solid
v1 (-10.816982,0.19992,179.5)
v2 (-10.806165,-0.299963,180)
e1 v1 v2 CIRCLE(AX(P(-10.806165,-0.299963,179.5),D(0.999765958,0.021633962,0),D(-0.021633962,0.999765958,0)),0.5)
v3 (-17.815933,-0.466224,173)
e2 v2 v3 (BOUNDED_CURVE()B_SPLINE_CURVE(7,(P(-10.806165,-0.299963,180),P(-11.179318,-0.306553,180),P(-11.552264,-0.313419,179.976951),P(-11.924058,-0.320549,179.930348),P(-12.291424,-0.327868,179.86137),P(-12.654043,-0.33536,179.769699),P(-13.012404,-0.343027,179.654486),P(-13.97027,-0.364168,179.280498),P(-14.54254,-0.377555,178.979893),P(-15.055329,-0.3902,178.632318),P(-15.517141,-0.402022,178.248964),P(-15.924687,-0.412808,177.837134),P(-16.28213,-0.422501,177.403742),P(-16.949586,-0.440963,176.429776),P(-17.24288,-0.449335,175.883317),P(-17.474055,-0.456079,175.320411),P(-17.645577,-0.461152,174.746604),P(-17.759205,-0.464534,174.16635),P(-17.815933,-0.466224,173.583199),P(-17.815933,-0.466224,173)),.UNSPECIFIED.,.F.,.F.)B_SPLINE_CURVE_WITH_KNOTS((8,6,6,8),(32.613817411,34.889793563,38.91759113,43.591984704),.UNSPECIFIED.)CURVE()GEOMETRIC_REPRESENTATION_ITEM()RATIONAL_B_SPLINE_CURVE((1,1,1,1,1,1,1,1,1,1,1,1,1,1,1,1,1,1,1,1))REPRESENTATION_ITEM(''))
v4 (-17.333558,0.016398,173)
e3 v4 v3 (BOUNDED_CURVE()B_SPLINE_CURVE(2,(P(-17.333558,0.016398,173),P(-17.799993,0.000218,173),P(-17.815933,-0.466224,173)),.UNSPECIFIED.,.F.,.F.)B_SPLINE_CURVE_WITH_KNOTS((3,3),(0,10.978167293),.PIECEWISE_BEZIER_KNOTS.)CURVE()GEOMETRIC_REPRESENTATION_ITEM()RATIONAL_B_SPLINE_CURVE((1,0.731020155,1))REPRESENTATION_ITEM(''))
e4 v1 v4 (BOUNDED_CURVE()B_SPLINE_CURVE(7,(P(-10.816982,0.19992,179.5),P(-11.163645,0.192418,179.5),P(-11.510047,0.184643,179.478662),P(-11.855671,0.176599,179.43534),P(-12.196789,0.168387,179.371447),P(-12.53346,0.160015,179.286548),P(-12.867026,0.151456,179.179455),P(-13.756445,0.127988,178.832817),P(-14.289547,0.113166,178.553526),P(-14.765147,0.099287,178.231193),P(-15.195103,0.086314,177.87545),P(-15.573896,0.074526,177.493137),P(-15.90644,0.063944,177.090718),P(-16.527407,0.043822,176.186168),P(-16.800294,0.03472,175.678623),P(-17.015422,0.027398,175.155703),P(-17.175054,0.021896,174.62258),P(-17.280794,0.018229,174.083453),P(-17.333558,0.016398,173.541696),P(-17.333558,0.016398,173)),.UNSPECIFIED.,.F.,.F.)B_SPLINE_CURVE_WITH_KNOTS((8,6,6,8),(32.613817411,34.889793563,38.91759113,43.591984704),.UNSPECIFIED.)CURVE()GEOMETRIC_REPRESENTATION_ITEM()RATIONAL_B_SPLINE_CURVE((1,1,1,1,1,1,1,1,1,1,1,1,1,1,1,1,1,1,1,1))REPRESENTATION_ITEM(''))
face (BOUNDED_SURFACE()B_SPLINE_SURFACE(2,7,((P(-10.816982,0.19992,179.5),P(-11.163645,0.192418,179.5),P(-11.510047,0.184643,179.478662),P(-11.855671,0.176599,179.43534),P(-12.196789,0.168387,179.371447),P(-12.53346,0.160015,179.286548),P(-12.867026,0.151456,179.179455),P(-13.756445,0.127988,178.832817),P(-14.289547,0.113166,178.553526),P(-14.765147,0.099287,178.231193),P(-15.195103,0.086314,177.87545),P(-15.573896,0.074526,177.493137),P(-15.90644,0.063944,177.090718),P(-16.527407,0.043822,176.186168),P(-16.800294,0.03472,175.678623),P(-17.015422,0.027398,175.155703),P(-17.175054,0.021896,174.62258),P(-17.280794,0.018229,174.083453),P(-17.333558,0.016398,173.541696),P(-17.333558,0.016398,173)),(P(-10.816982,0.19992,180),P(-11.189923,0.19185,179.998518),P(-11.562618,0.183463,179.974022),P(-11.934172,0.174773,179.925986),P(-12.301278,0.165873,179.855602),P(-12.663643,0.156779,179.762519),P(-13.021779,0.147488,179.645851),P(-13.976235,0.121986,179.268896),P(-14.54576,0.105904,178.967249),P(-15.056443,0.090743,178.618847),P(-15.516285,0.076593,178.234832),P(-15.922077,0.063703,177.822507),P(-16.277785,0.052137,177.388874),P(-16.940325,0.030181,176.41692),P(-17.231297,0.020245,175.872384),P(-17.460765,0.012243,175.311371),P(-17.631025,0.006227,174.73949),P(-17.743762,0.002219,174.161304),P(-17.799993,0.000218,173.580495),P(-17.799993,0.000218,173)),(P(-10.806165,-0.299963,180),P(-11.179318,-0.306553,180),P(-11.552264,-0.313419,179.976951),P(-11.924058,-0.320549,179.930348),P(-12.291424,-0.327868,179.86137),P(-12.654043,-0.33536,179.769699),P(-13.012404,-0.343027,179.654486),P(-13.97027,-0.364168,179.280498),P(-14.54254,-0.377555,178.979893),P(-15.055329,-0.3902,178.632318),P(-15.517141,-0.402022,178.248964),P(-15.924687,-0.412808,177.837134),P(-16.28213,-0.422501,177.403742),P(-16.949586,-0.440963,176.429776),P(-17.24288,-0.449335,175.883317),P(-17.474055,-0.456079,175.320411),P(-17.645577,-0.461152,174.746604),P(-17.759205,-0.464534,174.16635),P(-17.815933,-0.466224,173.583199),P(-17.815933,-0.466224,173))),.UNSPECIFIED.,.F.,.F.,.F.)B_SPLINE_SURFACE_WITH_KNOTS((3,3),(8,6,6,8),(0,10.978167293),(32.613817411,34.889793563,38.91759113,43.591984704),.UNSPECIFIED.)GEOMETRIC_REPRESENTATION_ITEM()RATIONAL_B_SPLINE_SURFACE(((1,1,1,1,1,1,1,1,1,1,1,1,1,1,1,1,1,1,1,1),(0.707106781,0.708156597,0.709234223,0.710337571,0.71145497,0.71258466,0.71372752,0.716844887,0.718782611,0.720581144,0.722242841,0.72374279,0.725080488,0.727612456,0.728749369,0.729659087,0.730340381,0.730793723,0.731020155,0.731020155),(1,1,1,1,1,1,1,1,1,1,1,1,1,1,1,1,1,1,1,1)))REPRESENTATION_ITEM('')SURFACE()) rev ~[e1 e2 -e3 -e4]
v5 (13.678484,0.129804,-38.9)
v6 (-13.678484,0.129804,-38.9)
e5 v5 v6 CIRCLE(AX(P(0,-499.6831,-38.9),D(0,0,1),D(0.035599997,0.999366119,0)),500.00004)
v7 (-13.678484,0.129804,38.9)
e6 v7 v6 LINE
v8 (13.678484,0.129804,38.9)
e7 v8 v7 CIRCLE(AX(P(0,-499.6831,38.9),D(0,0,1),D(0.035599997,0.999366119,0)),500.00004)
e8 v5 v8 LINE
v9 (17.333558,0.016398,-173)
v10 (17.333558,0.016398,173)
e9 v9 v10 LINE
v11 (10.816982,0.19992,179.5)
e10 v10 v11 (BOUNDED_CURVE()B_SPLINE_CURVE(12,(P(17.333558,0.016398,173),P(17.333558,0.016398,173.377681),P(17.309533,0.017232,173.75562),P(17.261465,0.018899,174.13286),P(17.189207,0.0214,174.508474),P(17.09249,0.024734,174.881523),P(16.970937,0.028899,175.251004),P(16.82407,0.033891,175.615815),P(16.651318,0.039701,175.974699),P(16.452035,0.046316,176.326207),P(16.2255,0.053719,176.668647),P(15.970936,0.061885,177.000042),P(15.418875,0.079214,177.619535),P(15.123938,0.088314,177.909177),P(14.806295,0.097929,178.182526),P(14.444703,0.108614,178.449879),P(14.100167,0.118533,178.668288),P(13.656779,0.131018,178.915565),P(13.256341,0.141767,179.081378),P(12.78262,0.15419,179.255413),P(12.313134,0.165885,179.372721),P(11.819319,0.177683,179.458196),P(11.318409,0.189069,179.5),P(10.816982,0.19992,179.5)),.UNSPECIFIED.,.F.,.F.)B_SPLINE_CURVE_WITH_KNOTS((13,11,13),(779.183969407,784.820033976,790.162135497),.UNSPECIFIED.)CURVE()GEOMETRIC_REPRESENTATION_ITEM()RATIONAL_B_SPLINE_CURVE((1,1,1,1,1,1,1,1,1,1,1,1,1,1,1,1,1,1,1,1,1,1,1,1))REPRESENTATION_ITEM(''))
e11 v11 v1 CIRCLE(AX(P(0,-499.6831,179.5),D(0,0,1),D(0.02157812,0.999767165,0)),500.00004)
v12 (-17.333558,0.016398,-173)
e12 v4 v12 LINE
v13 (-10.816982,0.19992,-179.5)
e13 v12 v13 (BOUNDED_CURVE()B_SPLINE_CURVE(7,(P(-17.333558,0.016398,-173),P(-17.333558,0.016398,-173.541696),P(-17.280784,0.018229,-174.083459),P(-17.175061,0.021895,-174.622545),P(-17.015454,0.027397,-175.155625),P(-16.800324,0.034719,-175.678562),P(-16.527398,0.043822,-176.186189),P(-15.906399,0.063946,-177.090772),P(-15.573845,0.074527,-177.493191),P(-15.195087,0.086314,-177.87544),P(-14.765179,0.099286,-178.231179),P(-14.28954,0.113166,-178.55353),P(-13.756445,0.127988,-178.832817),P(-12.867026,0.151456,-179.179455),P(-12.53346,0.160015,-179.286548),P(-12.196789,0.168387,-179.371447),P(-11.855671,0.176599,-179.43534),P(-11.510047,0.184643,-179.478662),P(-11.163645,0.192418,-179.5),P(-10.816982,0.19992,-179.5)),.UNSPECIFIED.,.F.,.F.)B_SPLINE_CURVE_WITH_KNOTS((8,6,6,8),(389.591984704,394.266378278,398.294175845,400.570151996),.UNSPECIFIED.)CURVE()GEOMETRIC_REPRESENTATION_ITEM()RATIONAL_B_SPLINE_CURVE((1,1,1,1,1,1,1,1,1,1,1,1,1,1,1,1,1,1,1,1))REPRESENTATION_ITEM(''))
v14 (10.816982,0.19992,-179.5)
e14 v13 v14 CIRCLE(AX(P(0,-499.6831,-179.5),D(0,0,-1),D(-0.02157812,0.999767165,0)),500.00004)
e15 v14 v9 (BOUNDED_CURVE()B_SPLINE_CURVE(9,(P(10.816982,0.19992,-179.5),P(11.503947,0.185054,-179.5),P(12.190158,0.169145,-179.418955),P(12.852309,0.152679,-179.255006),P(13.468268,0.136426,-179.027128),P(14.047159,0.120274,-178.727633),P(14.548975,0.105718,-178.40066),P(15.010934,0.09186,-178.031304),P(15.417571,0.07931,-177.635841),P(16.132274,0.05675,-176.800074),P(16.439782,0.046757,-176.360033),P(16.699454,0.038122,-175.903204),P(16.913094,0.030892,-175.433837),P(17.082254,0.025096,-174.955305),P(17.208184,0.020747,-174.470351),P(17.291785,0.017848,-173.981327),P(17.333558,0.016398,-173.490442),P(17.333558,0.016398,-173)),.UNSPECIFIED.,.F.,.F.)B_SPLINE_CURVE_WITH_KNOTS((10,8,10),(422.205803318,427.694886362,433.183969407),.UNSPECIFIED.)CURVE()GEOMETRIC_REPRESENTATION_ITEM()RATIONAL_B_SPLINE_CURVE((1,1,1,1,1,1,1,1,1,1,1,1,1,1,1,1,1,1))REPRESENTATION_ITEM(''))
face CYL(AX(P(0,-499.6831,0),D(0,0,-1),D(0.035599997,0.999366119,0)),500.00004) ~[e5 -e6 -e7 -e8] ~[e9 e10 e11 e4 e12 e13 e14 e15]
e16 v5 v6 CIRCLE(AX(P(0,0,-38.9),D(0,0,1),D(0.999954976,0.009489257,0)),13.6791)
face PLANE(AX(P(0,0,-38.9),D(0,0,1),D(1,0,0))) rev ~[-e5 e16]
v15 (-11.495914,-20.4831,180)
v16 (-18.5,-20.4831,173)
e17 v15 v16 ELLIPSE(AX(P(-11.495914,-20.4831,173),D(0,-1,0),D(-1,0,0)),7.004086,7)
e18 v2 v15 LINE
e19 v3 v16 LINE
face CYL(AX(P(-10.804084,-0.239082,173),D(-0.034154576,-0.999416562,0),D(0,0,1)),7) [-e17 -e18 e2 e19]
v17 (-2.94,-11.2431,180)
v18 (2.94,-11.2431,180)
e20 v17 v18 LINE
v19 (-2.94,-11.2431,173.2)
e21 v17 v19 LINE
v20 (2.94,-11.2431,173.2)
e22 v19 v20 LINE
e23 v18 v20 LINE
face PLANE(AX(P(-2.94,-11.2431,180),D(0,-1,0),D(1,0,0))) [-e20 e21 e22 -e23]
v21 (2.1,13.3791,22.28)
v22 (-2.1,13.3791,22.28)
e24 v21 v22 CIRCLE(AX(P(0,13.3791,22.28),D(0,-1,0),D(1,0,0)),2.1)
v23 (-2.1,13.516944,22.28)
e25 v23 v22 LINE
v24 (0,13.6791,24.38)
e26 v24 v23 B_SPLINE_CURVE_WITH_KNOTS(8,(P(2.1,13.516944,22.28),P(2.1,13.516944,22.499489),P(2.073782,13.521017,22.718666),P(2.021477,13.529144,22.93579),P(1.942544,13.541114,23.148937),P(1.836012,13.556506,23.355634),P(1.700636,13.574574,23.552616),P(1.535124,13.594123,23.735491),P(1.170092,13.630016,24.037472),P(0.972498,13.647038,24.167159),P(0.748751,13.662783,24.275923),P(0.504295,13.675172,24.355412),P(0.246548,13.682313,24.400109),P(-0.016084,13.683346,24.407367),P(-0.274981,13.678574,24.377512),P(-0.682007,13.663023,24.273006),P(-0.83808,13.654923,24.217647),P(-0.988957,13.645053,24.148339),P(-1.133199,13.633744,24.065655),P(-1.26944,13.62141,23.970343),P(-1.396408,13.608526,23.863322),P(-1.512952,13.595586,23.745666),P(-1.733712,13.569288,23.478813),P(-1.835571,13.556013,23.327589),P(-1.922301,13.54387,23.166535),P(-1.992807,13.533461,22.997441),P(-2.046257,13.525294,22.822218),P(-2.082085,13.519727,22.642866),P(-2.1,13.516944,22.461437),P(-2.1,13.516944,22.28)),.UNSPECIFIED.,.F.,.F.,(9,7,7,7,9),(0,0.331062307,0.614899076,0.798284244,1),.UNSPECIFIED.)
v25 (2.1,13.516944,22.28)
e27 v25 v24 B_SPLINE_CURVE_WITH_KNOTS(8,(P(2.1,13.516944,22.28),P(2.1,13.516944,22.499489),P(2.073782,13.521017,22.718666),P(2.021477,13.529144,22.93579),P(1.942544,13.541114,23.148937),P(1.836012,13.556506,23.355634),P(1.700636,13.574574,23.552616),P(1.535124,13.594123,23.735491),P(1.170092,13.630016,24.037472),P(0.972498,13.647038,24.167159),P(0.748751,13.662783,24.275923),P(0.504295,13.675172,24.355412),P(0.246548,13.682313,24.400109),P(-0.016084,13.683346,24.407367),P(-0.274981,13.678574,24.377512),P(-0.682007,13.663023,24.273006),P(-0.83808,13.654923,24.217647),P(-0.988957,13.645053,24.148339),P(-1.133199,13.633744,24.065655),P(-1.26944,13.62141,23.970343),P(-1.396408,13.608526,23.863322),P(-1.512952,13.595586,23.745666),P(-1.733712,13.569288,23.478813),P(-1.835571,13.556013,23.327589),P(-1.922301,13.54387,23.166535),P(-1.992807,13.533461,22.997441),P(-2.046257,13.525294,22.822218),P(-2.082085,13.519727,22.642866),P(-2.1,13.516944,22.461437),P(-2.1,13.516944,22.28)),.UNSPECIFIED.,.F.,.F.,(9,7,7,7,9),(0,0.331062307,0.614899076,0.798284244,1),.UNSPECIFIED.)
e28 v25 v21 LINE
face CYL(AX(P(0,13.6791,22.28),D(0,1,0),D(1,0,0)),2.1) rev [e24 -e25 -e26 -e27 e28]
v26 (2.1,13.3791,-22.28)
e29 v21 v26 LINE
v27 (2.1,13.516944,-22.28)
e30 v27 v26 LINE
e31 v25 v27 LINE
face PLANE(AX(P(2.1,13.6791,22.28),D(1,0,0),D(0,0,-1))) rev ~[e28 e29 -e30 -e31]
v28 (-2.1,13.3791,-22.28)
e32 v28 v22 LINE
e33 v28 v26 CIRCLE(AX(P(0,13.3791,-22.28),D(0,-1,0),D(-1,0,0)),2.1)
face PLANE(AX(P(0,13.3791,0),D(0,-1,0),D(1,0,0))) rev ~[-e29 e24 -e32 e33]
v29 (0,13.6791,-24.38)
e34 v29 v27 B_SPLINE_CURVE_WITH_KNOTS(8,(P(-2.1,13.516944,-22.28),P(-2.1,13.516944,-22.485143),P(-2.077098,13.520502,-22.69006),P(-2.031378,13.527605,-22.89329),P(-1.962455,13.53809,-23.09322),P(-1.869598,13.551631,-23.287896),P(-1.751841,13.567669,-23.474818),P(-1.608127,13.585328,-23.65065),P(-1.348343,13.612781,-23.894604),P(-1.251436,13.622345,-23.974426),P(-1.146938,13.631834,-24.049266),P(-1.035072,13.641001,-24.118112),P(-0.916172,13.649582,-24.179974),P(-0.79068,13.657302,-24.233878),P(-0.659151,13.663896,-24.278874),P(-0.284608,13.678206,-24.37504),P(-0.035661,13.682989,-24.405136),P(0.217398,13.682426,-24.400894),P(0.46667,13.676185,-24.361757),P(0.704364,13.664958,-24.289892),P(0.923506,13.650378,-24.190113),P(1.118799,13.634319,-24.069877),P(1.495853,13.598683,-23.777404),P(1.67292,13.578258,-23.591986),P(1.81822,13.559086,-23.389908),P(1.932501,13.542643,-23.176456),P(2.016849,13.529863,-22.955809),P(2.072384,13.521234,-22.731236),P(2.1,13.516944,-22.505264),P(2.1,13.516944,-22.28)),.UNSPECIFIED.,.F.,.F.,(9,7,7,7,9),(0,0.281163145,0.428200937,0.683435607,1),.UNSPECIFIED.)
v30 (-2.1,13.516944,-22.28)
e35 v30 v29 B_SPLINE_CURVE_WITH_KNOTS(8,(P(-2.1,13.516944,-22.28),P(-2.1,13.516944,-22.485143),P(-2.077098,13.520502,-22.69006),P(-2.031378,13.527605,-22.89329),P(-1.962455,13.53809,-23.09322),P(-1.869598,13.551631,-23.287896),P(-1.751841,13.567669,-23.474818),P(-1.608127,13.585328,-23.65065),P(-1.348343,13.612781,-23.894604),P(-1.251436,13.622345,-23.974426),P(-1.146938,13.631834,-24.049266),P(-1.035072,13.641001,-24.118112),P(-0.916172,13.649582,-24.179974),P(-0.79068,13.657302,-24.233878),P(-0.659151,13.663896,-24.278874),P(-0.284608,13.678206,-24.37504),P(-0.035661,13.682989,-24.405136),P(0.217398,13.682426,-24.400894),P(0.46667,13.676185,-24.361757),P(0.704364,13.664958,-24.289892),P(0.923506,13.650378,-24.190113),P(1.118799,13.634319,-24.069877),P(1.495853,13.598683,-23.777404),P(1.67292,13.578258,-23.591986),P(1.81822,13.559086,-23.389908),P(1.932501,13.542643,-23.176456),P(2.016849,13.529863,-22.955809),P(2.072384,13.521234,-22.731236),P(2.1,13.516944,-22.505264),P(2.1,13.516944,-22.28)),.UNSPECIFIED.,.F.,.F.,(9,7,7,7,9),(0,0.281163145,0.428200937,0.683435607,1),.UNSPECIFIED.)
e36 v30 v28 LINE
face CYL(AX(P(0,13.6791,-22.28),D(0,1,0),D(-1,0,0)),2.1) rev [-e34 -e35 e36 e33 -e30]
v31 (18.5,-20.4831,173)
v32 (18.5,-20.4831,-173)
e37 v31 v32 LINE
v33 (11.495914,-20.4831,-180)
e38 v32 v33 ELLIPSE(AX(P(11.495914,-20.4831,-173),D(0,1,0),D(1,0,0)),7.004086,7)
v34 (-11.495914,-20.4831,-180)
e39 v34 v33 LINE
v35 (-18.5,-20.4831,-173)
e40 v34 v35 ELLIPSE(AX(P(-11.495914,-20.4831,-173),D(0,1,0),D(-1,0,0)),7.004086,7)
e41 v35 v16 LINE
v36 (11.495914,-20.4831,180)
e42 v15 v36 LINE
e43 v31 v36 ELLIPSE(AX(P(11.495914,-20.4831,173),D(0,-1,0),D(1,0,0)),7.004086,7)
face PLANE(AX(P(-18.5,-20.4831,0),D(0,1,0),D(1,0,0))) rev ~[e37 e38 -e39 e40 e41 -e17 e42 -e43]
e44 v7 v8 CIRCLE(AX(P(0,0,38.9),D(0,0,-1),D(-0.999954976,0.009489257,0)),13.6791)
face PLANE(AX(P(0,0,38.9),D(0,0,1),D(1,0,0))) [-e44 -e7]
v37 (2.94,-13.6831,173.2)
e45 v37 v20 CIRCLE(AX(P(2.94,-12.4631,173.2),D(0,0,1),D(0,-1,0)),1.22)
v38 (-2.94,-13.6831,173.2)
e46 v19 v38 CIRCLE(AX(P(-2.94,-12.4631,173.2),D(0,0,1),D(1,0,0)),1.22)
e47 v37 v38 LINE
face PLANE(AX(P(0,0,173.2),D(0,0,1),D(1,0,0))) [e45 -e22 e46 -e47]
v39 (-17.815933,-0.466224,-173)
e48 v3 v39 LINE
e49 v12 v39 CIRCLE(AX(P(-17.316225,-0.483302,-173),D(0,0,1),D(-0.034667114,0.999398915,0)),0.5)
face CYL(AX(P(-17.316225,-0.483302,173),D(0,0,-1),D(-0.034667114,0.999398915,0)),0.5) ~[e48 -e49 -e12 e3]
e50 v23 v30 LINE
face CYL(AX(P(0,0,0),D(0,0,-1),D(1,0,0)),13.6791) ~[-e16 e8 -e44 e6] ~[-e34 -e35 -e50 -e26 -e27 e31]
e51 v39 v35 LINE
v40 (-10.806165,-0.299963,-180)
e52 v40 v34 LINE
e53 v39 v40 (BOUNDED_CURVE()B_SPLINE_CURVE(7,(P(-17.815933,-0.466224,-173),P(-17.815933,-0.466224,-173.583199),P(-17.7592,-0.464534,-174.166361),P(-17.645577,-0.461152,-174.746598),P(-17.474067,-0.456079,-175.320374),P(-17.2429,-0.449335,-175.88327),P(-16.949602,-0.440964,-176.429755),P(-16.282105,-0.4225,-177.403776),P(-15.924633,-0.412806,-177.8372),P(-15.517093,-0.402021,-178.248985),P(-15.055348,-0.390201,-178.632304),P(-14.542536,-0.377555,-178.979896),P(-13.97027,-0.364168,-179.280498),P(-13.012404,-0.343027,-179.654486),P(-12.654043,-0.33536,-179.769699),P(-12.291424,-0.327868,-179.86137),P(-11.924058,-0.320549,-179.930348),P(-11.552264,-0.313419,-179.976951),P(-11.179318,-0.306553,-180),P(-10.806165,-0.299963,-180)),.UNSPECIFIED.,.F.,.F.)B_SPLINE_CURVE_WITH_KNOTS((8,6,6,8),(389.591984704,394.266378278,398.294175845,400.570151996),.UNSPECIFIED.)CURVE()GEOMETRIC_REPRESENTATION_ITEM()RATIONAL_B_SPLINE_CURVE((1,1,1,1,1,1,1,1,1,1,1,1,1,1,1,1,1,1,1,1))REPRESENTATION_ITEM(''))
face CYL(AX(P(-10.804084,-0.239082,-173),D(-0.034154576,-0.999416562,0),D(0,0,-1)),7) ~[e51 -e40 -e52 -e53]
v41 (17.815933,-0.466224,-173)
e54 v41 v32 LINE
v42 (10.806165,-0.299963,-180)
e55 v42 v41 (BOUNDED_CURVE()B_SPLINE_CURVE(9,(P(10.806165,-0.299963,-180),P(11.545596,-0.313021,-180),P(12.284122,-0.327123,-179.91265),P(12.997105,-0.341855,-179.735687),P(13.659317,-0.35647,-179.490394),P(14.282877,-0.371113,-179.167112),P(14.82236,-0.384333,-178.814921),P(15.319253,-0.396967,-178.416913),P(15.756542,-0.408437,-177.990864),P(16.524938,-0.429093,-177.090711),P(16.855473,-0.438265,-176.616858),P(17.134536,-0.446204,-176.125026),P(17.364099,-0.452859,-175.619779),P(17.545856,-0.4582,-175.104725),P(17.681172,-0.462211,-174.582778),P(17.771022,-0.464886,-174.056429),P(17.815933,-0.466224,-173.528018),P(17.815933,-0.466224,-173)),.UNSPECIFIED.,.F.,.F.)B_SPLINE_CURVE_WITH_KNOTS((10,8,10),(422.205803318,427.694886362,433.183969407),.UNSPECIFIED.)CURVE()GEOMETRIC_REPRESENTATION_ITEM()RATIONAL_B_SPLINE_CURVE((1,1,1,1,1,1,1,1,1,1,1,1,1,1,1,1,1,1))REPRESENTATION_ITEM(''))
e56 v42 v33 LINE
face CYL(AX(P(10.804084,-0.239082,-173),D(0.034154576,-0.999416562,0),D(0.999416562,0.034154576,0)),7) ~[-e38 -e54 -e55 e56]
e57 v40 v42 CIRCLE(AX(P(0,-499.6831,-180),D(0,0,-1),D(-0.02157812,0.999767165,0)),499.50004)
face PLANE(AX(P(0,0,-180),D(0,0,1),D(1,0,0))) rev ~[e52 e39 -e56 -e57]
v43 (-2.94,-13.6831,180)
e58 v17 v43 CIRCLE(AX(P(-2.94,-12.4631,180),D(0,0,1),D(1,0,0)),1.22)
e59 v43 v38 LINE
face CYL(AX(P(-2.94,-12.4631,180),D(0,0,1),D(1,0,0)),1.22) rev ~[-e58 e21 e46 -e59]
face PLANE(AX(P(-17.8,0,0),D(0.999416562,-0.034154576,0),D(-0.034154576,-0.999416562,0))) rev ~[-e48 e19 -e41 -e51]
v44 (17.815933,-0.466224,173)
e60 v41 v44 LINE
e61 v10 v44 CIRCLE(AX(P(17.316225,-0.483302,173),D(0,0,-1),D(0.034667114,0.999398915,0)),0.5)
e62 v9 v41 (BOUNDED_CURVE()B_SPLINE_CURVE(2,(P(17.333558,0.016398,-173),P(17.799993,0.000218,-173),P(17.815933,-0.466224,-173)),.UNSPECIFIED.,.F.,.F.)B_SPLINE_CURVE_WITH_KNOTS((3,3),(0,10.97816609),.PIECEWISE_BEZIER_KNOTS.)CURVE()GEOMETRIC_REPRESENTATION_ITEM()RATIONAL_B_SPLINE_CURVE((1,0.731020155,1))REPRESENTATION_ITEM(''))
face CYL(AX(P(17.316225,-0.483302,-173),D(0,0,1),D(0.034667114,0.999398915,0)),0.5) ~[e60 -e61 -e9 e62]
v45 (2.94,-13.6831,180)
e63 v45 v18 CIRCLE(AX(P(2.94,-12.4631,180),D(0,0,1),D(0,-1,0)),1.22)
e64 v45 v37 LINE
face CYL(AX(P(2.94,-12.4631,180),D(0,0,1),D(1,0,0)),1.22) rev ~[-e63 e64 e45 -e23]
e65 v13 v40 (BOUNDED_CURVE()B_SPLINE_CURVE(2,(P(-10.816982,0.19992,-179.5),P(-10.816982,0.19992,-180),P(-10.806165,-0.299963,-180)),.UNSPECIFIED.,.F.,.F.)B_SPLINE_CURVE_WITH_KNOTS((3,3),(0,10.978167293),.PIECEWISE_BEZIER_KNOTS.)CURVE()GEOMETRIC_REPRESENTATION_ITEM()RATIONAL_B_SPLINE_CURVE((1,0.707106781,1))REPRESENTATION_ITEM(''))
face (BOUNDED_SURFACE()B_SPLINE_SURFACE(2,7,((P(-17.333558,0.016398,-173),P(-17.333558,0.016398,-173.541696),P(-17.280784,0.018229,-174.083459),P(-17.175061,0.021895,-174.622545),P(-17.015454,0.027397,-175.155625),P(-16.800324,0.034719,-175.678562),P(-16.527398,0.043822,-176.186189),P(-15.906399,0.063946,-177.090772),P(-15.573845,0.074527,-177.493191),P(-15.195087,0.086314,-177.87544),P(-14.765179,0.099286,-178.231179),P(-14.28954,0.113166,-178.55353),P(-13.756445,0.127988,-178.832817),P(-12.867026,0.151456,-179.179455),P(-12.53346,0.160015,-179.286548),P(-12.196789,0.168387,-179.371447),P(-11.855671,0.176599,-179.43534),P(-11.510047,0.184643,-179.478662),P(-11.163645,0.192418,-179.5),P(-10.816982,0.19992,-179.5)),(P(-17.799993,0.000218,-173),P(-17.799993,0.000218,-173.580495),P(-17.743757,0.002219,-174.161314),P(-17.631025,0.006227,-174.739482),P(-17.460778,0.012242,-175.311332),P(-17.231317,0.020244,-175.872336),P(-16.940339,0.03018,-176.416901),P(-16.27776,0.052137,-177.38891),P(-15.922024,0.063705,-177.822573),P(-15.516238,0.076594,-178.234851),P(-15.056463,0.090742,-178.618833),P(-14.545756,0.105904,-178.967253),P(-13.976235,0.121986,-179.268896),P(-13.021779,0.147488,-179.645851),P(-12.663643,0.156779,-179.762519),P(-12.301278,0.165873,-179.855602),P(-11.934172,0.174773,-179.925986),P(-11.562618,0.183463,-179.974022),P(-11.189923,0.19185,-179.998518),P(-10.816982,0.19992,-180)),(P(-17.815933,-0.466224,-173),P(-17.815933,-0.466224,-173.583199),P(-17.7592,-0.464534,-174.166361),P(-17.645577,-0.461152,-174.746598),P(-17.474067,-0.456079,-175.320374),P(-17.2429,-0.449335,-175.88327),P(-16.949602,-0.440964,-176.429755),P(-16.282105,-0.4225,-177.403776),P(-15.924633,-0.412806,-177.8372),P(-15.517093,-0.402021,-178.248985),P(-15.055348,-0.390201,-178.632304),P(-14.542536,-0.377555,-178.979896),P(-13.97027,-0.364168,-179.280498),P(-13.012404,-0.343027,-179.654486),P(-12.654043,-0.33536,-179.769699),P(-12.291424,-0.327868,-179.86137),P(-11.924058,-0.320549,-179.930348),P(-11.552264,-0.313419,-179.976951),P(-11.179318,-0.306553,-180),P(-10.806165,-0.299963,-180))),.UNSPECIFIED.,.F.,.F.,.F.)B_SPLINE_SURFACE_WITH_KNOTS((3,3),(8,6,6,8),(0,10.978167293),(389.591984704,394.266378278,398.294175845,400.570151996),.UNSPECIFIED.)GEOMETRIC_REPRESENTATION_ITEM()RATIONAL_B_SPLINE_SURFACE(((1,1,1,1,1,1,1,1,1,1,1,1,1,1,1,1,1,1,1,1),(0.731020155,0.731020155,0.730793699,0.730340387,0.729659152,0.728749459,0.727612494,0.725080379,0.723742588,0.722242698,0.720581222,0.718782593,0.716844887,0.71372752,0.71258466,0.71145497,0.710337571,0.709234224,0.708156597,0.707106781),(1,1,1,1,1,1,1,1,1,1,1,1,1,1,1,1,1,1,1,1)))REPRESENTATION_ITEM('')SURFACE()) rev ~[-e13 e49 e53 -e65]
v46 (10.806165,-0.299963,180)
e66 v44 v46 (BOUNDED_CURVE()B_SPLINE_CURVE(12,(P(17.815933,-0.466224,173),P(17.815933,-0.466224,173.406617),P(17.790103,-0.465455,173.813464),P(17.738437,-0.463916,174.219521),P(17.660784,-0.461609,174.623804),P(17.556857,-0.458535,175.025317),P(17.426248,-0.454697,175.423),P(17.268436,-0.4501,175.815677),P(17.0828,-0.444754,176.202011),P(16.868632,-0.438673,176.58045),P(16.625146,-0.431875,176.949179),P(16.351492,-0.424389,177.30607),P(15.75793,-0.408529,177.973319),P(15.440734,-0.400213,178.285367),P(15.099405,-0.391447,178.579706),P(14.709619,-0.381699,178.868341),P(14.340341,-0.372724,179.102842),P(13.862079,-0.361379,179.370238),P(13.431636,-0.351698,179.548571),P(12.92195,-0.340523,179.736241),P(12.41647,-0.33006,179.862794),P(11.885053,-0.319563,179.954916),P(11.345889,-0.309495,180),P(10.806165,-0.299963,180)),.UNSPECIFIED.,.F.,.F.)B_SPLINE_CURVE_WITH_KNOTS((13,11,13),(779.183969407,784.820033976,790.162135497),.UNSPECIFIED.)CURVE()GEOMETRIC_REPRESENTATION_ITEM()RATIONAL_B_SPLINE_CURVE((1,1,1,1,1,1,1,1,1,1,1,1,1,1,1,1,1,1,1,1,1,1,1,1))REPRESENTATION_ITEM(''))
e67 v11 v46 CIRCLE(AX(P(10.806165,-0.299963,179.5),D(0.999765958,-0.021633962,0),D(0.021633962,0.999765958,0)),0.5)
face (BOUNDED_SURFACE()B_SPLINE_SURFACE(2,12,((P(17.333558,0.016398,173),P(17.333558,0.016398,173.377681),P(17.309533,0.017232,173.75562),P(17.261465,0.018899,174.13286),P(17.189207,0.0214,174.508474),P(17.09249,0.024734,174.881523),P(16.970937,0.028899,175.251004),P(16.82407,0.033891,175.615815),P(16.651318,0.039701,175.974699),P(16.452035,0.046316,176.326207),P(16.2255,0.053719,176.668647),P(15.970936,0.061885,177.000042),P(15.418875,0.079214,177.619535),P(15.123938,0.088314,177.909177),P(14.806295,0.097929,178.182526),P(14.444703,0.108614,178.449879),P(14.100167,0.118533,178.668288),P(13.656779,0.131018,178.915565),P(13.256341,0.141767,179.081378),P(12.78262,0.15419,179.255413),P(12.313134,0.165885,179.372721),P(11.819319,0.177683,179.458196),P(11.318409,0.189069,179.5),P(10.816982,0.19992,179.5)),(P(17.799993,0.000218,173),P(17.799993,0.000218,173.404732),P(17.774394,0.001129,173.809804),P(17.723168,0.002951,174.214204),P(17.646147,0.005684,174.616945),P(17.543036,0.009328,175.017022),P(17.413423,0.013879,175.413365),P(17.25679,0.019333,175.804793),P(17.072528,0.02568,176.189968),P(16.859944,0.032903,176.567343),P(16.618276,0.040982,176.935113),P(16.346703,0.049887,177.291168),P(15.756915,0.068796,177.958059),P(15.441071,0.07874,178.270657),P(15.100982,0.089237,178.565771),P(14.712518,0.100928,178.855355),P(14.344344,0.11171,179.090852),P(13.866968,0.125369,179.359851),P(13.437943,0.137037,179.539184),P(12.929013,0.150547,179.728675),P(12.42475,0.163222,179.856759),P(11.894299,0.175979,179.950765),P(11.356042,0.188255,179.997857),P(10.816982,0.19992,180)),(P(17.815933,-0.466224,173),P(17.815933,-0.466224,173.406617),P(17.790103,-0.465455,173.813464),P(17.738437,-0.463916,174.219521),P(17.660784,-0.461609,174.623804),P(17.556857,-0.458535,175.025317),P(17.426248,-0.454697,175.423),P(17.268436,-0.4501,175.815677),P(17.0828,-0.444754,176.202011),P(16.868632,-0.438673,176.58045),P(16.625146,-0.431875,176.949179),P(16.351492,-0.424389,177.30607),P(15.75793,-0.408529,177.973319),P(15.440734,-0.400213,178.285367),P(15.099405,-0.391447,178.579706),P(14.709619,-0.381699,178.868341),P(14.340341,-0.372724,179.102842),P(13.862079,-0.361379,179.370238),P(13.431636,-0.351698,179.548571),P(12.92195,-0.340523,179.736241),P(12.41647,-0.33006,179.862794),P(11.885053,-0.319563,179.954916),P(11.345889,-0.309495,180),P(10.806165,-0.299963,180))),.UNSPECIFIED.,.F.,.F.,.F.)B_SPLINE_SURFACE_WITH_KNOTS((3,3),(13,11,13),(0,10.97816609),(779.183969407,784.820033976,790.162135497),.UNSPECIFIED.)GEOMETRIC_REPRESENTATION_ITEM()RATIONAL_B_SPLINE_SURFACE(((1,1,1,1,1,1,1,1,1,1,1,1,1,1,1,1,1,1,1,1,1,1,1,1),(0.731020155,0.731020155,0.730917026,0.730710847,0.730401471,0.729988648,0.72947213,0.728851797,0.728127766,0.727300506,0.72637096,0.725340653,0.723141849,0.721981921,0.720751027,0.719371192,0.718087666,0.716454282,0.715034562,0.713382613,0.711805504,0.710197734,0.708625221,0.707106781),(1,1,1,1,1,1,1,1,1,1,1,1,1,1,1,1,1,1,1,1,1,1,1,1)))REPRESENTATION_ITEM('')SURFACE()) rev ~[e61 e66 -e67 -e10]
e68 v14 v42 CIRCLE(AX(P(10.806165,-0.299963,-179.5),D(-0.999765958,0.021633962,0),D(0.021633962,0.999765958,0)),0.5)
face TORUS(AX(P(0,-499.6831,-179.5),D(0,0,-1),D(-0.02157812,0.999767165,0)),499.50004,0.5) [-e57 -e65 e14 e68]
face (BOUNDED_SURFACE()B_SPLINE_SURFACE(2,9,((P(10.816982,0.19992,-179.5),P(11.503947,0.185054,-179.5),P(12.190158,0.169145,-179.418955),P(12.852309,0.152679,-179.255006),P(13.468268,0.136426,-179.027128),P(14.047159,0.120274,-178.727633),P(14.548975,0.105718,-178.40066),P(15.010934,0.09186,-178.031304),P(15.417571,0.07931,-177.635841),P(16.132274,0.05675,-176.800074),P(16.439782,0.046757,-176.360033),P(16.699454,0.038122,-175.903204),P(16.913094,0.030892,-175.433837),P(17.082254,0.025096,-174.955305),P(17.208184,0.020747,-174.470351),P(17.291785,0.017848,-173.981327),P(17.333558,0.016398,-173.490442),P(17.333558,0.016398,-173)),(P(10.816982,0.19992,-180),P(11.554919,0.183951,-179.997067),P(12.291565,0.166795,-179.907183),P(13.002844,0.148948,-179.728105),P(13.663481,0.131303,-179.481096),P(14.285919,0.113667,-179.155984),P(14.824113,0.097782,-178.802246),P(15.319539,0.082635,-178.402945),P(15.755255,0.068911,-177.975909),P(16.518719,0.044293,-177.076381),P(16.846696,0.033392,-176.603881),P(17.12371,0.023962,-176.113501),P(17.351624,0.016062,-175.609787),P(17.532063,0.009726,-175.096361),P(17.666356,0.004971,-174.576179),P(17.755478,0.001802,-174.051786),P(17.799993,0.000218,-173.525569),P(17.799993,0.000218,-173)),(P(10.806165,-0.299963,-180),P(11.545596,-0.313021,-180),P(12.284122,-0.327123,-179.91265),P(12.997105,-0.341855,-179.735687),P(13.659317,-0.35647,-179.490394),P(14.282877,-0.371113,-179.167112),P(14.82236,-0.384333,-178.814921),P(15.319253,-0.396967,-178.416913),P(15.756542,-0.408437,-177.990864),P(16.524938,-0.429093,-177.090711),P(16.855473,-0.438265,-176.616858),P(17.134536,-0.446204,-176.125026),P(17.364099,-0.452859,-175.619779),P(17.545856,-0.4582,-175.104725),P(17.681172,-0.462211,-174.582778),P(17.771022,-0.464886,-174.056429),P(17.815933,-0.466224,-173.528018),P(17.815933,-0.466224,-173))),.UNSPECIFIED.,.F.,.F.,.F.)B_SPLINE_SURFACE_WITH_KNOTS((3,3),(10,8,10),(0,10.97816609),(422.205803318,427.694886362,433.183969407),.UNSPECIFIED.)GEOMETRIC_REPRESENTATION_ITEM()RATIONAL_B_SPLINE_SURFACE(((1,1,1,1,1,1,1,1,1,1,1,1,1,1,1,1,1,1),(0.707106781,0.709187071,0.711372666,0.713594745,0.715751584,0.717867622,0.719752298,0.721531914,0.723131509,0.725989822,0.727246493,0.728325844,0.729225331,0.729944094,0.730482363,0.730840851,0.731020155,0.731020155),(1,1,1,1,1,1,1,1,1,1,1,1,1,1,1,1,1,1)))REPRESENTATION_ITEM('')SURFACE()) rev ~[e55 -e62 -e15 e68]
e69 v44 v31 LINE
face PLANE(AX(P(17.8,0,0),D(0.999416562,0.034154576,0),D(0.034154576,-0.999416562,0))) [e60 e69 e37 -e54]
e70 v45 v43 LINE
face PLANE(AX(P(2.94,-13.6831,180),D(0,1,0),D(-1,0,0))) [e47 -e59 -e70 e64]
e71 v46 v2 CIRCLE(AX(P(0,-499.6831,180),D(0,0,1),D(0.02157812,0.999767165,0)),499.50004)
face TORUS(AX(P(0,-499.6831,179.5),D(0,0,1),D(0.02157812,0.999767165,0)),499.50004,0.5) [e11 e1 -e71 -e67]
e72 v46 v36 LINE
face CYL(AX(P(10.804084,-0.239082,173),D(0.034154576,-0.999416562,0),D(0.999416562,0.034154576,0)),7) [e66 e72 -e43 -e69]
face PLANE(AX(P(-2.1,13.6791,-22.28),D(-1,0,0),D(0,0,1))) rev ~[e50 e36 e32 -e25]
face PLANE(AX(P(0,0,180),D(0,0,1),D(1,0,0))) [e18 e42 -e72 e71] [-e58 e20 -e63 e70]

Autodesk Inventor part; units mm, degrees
ref_plane "YZ Plane" through (0, 0, 0) normal (1, 0, 0) x (0, 1, 0)
ref_plane "XZ Plane" through (0, 0, 0) normal (0, 1, 0) x (-1, 0, 0)
sketch "草圖1" plane through (0, 0, 0) normal (0, 0, 1) x (1, 0, 0)
  line L0 (-17.8, 0) -> (17.8, 0)
  line L1 (-17.8, 0) -> (17.8, 0) construction
  line L2 (-18.5, -20.4831) -> (18.5, -20.4831)
  line L3 (-17.8, 0) -> (-18.5, -20.4831)
  line L4 (17.8, 0) -> (18.5, -20.4831)
  arc A0 (17.8, 0) -> (-17.8, 0) centre (0, -499.6831) ccw
  circle A1 centre (0, 0) radius 13.6791
  line L5 (0, 13.6791) -> (0, -20.4831) construction
  line L6 (-2.1, 13.5169) -> (2.1, 13.5169)
  point P0 (0, 0)
  point P1 (0, 0)
  point P2 (-13.6785, 0.1298)
  point P3 (13.6785, 0.1298)
  point P4 (0, 0.3169)
  point P5 (0, 13.5169)
  dimension "d0" = 35.6
  dimension "d2" = 37
  dimension "d15" = 500
  dimension "d32" = 20.8
  dimension "d34" = 34
  dimension "d35" = 4.2
extrude "擠出1" add sketch "草圖1" along normal mid plane 360 contours A1 A0 L0 | A1 L0 | L0 A1 A0 | L0 L4 L2 L3 A1 | L0 A0 A1
extrude "擠出4" add sketch "草圖1" along normal mid plane 77.8 contours A0 A1 L6 | L6 A1
fillet "圓角3" radius 7 4 edges at (-18.15, -10.2415, -180) (18.15, -10.2415, -180) (18.15, -10.2415, 180) (-18.15, -10.2415, 180)
fillet "圓角4" radius 0.5 8 edges at (16.1323, 0.0566, 177.5316) (0, 0.3169, 180) (-16.1323, 0.0566, 177.5316) (-17.8, 0, 0) (-16.1323, 0.0566, -177.5316) (0, 0.3169, -180) (16.1338, 0.0566, -177.5299) (17.8, 0, 0)
sketch "草圖4" plane through (0, 0, 180) normal (0, 0, 1) x (1, 0, 0)
  line L0 (-2.94, -11.2431) -> (2.94, -11.2431)
  line L1 (2.94, -11.2431) -> (2.94, -13.6831)
  line L2 (2.94, -13.6831) -> (-2.94, -13.6831)
  line L3 (-2.94, -13.6831) -> (-2.94, -11.2431)
  circle A0 centre (2.94, -12.4631) radius 1.22
  circle A1 centre (-2.94, -12.4631) radius 1.22
  line L4 (-4.16, -12.4631) -> (4.16, -12.4631) construction
  arc A2 (10.8062, -0.3) -> (-10.8062, -0.3) centre (0, -499.6831) ccw projected
  line L5 (-11.4959, -20.4831) -> (11.4959, -20.4831) projected
  point P0 (0, 0)
  point P1 (0, -12.4631)
  point P2 (0, -0.1831)
  dimension "d28" = 2.44
  dimension "d30" = 8.32
  dimension "d31" = 6.8
ref_plane "工作平面4" through (0, 13.6791, 0) normal (0, -1, 0) x (1, 0, 0)
sketch "草圖5" plane through (0, 13.6791, 0) normal (0, -1, 0) x (1, 0, 0)
  line L0 (0, 22.28) -> (0, -22.28) construction
  line L1 (2.1, 22.28) -> (2.1, -22.28)
  line L2 (-2.1, -22.28) -> (-2.1, 22.28)
  arc A0 (2.1, 22.28) -> (-2.1, 22.28) centre (0, 22.28) ccw
  arc A1 (-2.1, -22.28) -> (2.1, -22.28) centre (0, -22.28) ccw
  line L3 (0, 24.38) -> (0, -24.38) construction
  point P0 (0, 0)
  point P1 (0, 0)
  point P2 (0, 0)
  dimension "d36" = 4.2
  dimension "d37" = 48.76
extrude "擠出6" cut sketch "草圖5" along normal blind 0.3
extrude "擠出7" cut sketch "草圖4" against normal blind 6.8
properties part number "燈"
